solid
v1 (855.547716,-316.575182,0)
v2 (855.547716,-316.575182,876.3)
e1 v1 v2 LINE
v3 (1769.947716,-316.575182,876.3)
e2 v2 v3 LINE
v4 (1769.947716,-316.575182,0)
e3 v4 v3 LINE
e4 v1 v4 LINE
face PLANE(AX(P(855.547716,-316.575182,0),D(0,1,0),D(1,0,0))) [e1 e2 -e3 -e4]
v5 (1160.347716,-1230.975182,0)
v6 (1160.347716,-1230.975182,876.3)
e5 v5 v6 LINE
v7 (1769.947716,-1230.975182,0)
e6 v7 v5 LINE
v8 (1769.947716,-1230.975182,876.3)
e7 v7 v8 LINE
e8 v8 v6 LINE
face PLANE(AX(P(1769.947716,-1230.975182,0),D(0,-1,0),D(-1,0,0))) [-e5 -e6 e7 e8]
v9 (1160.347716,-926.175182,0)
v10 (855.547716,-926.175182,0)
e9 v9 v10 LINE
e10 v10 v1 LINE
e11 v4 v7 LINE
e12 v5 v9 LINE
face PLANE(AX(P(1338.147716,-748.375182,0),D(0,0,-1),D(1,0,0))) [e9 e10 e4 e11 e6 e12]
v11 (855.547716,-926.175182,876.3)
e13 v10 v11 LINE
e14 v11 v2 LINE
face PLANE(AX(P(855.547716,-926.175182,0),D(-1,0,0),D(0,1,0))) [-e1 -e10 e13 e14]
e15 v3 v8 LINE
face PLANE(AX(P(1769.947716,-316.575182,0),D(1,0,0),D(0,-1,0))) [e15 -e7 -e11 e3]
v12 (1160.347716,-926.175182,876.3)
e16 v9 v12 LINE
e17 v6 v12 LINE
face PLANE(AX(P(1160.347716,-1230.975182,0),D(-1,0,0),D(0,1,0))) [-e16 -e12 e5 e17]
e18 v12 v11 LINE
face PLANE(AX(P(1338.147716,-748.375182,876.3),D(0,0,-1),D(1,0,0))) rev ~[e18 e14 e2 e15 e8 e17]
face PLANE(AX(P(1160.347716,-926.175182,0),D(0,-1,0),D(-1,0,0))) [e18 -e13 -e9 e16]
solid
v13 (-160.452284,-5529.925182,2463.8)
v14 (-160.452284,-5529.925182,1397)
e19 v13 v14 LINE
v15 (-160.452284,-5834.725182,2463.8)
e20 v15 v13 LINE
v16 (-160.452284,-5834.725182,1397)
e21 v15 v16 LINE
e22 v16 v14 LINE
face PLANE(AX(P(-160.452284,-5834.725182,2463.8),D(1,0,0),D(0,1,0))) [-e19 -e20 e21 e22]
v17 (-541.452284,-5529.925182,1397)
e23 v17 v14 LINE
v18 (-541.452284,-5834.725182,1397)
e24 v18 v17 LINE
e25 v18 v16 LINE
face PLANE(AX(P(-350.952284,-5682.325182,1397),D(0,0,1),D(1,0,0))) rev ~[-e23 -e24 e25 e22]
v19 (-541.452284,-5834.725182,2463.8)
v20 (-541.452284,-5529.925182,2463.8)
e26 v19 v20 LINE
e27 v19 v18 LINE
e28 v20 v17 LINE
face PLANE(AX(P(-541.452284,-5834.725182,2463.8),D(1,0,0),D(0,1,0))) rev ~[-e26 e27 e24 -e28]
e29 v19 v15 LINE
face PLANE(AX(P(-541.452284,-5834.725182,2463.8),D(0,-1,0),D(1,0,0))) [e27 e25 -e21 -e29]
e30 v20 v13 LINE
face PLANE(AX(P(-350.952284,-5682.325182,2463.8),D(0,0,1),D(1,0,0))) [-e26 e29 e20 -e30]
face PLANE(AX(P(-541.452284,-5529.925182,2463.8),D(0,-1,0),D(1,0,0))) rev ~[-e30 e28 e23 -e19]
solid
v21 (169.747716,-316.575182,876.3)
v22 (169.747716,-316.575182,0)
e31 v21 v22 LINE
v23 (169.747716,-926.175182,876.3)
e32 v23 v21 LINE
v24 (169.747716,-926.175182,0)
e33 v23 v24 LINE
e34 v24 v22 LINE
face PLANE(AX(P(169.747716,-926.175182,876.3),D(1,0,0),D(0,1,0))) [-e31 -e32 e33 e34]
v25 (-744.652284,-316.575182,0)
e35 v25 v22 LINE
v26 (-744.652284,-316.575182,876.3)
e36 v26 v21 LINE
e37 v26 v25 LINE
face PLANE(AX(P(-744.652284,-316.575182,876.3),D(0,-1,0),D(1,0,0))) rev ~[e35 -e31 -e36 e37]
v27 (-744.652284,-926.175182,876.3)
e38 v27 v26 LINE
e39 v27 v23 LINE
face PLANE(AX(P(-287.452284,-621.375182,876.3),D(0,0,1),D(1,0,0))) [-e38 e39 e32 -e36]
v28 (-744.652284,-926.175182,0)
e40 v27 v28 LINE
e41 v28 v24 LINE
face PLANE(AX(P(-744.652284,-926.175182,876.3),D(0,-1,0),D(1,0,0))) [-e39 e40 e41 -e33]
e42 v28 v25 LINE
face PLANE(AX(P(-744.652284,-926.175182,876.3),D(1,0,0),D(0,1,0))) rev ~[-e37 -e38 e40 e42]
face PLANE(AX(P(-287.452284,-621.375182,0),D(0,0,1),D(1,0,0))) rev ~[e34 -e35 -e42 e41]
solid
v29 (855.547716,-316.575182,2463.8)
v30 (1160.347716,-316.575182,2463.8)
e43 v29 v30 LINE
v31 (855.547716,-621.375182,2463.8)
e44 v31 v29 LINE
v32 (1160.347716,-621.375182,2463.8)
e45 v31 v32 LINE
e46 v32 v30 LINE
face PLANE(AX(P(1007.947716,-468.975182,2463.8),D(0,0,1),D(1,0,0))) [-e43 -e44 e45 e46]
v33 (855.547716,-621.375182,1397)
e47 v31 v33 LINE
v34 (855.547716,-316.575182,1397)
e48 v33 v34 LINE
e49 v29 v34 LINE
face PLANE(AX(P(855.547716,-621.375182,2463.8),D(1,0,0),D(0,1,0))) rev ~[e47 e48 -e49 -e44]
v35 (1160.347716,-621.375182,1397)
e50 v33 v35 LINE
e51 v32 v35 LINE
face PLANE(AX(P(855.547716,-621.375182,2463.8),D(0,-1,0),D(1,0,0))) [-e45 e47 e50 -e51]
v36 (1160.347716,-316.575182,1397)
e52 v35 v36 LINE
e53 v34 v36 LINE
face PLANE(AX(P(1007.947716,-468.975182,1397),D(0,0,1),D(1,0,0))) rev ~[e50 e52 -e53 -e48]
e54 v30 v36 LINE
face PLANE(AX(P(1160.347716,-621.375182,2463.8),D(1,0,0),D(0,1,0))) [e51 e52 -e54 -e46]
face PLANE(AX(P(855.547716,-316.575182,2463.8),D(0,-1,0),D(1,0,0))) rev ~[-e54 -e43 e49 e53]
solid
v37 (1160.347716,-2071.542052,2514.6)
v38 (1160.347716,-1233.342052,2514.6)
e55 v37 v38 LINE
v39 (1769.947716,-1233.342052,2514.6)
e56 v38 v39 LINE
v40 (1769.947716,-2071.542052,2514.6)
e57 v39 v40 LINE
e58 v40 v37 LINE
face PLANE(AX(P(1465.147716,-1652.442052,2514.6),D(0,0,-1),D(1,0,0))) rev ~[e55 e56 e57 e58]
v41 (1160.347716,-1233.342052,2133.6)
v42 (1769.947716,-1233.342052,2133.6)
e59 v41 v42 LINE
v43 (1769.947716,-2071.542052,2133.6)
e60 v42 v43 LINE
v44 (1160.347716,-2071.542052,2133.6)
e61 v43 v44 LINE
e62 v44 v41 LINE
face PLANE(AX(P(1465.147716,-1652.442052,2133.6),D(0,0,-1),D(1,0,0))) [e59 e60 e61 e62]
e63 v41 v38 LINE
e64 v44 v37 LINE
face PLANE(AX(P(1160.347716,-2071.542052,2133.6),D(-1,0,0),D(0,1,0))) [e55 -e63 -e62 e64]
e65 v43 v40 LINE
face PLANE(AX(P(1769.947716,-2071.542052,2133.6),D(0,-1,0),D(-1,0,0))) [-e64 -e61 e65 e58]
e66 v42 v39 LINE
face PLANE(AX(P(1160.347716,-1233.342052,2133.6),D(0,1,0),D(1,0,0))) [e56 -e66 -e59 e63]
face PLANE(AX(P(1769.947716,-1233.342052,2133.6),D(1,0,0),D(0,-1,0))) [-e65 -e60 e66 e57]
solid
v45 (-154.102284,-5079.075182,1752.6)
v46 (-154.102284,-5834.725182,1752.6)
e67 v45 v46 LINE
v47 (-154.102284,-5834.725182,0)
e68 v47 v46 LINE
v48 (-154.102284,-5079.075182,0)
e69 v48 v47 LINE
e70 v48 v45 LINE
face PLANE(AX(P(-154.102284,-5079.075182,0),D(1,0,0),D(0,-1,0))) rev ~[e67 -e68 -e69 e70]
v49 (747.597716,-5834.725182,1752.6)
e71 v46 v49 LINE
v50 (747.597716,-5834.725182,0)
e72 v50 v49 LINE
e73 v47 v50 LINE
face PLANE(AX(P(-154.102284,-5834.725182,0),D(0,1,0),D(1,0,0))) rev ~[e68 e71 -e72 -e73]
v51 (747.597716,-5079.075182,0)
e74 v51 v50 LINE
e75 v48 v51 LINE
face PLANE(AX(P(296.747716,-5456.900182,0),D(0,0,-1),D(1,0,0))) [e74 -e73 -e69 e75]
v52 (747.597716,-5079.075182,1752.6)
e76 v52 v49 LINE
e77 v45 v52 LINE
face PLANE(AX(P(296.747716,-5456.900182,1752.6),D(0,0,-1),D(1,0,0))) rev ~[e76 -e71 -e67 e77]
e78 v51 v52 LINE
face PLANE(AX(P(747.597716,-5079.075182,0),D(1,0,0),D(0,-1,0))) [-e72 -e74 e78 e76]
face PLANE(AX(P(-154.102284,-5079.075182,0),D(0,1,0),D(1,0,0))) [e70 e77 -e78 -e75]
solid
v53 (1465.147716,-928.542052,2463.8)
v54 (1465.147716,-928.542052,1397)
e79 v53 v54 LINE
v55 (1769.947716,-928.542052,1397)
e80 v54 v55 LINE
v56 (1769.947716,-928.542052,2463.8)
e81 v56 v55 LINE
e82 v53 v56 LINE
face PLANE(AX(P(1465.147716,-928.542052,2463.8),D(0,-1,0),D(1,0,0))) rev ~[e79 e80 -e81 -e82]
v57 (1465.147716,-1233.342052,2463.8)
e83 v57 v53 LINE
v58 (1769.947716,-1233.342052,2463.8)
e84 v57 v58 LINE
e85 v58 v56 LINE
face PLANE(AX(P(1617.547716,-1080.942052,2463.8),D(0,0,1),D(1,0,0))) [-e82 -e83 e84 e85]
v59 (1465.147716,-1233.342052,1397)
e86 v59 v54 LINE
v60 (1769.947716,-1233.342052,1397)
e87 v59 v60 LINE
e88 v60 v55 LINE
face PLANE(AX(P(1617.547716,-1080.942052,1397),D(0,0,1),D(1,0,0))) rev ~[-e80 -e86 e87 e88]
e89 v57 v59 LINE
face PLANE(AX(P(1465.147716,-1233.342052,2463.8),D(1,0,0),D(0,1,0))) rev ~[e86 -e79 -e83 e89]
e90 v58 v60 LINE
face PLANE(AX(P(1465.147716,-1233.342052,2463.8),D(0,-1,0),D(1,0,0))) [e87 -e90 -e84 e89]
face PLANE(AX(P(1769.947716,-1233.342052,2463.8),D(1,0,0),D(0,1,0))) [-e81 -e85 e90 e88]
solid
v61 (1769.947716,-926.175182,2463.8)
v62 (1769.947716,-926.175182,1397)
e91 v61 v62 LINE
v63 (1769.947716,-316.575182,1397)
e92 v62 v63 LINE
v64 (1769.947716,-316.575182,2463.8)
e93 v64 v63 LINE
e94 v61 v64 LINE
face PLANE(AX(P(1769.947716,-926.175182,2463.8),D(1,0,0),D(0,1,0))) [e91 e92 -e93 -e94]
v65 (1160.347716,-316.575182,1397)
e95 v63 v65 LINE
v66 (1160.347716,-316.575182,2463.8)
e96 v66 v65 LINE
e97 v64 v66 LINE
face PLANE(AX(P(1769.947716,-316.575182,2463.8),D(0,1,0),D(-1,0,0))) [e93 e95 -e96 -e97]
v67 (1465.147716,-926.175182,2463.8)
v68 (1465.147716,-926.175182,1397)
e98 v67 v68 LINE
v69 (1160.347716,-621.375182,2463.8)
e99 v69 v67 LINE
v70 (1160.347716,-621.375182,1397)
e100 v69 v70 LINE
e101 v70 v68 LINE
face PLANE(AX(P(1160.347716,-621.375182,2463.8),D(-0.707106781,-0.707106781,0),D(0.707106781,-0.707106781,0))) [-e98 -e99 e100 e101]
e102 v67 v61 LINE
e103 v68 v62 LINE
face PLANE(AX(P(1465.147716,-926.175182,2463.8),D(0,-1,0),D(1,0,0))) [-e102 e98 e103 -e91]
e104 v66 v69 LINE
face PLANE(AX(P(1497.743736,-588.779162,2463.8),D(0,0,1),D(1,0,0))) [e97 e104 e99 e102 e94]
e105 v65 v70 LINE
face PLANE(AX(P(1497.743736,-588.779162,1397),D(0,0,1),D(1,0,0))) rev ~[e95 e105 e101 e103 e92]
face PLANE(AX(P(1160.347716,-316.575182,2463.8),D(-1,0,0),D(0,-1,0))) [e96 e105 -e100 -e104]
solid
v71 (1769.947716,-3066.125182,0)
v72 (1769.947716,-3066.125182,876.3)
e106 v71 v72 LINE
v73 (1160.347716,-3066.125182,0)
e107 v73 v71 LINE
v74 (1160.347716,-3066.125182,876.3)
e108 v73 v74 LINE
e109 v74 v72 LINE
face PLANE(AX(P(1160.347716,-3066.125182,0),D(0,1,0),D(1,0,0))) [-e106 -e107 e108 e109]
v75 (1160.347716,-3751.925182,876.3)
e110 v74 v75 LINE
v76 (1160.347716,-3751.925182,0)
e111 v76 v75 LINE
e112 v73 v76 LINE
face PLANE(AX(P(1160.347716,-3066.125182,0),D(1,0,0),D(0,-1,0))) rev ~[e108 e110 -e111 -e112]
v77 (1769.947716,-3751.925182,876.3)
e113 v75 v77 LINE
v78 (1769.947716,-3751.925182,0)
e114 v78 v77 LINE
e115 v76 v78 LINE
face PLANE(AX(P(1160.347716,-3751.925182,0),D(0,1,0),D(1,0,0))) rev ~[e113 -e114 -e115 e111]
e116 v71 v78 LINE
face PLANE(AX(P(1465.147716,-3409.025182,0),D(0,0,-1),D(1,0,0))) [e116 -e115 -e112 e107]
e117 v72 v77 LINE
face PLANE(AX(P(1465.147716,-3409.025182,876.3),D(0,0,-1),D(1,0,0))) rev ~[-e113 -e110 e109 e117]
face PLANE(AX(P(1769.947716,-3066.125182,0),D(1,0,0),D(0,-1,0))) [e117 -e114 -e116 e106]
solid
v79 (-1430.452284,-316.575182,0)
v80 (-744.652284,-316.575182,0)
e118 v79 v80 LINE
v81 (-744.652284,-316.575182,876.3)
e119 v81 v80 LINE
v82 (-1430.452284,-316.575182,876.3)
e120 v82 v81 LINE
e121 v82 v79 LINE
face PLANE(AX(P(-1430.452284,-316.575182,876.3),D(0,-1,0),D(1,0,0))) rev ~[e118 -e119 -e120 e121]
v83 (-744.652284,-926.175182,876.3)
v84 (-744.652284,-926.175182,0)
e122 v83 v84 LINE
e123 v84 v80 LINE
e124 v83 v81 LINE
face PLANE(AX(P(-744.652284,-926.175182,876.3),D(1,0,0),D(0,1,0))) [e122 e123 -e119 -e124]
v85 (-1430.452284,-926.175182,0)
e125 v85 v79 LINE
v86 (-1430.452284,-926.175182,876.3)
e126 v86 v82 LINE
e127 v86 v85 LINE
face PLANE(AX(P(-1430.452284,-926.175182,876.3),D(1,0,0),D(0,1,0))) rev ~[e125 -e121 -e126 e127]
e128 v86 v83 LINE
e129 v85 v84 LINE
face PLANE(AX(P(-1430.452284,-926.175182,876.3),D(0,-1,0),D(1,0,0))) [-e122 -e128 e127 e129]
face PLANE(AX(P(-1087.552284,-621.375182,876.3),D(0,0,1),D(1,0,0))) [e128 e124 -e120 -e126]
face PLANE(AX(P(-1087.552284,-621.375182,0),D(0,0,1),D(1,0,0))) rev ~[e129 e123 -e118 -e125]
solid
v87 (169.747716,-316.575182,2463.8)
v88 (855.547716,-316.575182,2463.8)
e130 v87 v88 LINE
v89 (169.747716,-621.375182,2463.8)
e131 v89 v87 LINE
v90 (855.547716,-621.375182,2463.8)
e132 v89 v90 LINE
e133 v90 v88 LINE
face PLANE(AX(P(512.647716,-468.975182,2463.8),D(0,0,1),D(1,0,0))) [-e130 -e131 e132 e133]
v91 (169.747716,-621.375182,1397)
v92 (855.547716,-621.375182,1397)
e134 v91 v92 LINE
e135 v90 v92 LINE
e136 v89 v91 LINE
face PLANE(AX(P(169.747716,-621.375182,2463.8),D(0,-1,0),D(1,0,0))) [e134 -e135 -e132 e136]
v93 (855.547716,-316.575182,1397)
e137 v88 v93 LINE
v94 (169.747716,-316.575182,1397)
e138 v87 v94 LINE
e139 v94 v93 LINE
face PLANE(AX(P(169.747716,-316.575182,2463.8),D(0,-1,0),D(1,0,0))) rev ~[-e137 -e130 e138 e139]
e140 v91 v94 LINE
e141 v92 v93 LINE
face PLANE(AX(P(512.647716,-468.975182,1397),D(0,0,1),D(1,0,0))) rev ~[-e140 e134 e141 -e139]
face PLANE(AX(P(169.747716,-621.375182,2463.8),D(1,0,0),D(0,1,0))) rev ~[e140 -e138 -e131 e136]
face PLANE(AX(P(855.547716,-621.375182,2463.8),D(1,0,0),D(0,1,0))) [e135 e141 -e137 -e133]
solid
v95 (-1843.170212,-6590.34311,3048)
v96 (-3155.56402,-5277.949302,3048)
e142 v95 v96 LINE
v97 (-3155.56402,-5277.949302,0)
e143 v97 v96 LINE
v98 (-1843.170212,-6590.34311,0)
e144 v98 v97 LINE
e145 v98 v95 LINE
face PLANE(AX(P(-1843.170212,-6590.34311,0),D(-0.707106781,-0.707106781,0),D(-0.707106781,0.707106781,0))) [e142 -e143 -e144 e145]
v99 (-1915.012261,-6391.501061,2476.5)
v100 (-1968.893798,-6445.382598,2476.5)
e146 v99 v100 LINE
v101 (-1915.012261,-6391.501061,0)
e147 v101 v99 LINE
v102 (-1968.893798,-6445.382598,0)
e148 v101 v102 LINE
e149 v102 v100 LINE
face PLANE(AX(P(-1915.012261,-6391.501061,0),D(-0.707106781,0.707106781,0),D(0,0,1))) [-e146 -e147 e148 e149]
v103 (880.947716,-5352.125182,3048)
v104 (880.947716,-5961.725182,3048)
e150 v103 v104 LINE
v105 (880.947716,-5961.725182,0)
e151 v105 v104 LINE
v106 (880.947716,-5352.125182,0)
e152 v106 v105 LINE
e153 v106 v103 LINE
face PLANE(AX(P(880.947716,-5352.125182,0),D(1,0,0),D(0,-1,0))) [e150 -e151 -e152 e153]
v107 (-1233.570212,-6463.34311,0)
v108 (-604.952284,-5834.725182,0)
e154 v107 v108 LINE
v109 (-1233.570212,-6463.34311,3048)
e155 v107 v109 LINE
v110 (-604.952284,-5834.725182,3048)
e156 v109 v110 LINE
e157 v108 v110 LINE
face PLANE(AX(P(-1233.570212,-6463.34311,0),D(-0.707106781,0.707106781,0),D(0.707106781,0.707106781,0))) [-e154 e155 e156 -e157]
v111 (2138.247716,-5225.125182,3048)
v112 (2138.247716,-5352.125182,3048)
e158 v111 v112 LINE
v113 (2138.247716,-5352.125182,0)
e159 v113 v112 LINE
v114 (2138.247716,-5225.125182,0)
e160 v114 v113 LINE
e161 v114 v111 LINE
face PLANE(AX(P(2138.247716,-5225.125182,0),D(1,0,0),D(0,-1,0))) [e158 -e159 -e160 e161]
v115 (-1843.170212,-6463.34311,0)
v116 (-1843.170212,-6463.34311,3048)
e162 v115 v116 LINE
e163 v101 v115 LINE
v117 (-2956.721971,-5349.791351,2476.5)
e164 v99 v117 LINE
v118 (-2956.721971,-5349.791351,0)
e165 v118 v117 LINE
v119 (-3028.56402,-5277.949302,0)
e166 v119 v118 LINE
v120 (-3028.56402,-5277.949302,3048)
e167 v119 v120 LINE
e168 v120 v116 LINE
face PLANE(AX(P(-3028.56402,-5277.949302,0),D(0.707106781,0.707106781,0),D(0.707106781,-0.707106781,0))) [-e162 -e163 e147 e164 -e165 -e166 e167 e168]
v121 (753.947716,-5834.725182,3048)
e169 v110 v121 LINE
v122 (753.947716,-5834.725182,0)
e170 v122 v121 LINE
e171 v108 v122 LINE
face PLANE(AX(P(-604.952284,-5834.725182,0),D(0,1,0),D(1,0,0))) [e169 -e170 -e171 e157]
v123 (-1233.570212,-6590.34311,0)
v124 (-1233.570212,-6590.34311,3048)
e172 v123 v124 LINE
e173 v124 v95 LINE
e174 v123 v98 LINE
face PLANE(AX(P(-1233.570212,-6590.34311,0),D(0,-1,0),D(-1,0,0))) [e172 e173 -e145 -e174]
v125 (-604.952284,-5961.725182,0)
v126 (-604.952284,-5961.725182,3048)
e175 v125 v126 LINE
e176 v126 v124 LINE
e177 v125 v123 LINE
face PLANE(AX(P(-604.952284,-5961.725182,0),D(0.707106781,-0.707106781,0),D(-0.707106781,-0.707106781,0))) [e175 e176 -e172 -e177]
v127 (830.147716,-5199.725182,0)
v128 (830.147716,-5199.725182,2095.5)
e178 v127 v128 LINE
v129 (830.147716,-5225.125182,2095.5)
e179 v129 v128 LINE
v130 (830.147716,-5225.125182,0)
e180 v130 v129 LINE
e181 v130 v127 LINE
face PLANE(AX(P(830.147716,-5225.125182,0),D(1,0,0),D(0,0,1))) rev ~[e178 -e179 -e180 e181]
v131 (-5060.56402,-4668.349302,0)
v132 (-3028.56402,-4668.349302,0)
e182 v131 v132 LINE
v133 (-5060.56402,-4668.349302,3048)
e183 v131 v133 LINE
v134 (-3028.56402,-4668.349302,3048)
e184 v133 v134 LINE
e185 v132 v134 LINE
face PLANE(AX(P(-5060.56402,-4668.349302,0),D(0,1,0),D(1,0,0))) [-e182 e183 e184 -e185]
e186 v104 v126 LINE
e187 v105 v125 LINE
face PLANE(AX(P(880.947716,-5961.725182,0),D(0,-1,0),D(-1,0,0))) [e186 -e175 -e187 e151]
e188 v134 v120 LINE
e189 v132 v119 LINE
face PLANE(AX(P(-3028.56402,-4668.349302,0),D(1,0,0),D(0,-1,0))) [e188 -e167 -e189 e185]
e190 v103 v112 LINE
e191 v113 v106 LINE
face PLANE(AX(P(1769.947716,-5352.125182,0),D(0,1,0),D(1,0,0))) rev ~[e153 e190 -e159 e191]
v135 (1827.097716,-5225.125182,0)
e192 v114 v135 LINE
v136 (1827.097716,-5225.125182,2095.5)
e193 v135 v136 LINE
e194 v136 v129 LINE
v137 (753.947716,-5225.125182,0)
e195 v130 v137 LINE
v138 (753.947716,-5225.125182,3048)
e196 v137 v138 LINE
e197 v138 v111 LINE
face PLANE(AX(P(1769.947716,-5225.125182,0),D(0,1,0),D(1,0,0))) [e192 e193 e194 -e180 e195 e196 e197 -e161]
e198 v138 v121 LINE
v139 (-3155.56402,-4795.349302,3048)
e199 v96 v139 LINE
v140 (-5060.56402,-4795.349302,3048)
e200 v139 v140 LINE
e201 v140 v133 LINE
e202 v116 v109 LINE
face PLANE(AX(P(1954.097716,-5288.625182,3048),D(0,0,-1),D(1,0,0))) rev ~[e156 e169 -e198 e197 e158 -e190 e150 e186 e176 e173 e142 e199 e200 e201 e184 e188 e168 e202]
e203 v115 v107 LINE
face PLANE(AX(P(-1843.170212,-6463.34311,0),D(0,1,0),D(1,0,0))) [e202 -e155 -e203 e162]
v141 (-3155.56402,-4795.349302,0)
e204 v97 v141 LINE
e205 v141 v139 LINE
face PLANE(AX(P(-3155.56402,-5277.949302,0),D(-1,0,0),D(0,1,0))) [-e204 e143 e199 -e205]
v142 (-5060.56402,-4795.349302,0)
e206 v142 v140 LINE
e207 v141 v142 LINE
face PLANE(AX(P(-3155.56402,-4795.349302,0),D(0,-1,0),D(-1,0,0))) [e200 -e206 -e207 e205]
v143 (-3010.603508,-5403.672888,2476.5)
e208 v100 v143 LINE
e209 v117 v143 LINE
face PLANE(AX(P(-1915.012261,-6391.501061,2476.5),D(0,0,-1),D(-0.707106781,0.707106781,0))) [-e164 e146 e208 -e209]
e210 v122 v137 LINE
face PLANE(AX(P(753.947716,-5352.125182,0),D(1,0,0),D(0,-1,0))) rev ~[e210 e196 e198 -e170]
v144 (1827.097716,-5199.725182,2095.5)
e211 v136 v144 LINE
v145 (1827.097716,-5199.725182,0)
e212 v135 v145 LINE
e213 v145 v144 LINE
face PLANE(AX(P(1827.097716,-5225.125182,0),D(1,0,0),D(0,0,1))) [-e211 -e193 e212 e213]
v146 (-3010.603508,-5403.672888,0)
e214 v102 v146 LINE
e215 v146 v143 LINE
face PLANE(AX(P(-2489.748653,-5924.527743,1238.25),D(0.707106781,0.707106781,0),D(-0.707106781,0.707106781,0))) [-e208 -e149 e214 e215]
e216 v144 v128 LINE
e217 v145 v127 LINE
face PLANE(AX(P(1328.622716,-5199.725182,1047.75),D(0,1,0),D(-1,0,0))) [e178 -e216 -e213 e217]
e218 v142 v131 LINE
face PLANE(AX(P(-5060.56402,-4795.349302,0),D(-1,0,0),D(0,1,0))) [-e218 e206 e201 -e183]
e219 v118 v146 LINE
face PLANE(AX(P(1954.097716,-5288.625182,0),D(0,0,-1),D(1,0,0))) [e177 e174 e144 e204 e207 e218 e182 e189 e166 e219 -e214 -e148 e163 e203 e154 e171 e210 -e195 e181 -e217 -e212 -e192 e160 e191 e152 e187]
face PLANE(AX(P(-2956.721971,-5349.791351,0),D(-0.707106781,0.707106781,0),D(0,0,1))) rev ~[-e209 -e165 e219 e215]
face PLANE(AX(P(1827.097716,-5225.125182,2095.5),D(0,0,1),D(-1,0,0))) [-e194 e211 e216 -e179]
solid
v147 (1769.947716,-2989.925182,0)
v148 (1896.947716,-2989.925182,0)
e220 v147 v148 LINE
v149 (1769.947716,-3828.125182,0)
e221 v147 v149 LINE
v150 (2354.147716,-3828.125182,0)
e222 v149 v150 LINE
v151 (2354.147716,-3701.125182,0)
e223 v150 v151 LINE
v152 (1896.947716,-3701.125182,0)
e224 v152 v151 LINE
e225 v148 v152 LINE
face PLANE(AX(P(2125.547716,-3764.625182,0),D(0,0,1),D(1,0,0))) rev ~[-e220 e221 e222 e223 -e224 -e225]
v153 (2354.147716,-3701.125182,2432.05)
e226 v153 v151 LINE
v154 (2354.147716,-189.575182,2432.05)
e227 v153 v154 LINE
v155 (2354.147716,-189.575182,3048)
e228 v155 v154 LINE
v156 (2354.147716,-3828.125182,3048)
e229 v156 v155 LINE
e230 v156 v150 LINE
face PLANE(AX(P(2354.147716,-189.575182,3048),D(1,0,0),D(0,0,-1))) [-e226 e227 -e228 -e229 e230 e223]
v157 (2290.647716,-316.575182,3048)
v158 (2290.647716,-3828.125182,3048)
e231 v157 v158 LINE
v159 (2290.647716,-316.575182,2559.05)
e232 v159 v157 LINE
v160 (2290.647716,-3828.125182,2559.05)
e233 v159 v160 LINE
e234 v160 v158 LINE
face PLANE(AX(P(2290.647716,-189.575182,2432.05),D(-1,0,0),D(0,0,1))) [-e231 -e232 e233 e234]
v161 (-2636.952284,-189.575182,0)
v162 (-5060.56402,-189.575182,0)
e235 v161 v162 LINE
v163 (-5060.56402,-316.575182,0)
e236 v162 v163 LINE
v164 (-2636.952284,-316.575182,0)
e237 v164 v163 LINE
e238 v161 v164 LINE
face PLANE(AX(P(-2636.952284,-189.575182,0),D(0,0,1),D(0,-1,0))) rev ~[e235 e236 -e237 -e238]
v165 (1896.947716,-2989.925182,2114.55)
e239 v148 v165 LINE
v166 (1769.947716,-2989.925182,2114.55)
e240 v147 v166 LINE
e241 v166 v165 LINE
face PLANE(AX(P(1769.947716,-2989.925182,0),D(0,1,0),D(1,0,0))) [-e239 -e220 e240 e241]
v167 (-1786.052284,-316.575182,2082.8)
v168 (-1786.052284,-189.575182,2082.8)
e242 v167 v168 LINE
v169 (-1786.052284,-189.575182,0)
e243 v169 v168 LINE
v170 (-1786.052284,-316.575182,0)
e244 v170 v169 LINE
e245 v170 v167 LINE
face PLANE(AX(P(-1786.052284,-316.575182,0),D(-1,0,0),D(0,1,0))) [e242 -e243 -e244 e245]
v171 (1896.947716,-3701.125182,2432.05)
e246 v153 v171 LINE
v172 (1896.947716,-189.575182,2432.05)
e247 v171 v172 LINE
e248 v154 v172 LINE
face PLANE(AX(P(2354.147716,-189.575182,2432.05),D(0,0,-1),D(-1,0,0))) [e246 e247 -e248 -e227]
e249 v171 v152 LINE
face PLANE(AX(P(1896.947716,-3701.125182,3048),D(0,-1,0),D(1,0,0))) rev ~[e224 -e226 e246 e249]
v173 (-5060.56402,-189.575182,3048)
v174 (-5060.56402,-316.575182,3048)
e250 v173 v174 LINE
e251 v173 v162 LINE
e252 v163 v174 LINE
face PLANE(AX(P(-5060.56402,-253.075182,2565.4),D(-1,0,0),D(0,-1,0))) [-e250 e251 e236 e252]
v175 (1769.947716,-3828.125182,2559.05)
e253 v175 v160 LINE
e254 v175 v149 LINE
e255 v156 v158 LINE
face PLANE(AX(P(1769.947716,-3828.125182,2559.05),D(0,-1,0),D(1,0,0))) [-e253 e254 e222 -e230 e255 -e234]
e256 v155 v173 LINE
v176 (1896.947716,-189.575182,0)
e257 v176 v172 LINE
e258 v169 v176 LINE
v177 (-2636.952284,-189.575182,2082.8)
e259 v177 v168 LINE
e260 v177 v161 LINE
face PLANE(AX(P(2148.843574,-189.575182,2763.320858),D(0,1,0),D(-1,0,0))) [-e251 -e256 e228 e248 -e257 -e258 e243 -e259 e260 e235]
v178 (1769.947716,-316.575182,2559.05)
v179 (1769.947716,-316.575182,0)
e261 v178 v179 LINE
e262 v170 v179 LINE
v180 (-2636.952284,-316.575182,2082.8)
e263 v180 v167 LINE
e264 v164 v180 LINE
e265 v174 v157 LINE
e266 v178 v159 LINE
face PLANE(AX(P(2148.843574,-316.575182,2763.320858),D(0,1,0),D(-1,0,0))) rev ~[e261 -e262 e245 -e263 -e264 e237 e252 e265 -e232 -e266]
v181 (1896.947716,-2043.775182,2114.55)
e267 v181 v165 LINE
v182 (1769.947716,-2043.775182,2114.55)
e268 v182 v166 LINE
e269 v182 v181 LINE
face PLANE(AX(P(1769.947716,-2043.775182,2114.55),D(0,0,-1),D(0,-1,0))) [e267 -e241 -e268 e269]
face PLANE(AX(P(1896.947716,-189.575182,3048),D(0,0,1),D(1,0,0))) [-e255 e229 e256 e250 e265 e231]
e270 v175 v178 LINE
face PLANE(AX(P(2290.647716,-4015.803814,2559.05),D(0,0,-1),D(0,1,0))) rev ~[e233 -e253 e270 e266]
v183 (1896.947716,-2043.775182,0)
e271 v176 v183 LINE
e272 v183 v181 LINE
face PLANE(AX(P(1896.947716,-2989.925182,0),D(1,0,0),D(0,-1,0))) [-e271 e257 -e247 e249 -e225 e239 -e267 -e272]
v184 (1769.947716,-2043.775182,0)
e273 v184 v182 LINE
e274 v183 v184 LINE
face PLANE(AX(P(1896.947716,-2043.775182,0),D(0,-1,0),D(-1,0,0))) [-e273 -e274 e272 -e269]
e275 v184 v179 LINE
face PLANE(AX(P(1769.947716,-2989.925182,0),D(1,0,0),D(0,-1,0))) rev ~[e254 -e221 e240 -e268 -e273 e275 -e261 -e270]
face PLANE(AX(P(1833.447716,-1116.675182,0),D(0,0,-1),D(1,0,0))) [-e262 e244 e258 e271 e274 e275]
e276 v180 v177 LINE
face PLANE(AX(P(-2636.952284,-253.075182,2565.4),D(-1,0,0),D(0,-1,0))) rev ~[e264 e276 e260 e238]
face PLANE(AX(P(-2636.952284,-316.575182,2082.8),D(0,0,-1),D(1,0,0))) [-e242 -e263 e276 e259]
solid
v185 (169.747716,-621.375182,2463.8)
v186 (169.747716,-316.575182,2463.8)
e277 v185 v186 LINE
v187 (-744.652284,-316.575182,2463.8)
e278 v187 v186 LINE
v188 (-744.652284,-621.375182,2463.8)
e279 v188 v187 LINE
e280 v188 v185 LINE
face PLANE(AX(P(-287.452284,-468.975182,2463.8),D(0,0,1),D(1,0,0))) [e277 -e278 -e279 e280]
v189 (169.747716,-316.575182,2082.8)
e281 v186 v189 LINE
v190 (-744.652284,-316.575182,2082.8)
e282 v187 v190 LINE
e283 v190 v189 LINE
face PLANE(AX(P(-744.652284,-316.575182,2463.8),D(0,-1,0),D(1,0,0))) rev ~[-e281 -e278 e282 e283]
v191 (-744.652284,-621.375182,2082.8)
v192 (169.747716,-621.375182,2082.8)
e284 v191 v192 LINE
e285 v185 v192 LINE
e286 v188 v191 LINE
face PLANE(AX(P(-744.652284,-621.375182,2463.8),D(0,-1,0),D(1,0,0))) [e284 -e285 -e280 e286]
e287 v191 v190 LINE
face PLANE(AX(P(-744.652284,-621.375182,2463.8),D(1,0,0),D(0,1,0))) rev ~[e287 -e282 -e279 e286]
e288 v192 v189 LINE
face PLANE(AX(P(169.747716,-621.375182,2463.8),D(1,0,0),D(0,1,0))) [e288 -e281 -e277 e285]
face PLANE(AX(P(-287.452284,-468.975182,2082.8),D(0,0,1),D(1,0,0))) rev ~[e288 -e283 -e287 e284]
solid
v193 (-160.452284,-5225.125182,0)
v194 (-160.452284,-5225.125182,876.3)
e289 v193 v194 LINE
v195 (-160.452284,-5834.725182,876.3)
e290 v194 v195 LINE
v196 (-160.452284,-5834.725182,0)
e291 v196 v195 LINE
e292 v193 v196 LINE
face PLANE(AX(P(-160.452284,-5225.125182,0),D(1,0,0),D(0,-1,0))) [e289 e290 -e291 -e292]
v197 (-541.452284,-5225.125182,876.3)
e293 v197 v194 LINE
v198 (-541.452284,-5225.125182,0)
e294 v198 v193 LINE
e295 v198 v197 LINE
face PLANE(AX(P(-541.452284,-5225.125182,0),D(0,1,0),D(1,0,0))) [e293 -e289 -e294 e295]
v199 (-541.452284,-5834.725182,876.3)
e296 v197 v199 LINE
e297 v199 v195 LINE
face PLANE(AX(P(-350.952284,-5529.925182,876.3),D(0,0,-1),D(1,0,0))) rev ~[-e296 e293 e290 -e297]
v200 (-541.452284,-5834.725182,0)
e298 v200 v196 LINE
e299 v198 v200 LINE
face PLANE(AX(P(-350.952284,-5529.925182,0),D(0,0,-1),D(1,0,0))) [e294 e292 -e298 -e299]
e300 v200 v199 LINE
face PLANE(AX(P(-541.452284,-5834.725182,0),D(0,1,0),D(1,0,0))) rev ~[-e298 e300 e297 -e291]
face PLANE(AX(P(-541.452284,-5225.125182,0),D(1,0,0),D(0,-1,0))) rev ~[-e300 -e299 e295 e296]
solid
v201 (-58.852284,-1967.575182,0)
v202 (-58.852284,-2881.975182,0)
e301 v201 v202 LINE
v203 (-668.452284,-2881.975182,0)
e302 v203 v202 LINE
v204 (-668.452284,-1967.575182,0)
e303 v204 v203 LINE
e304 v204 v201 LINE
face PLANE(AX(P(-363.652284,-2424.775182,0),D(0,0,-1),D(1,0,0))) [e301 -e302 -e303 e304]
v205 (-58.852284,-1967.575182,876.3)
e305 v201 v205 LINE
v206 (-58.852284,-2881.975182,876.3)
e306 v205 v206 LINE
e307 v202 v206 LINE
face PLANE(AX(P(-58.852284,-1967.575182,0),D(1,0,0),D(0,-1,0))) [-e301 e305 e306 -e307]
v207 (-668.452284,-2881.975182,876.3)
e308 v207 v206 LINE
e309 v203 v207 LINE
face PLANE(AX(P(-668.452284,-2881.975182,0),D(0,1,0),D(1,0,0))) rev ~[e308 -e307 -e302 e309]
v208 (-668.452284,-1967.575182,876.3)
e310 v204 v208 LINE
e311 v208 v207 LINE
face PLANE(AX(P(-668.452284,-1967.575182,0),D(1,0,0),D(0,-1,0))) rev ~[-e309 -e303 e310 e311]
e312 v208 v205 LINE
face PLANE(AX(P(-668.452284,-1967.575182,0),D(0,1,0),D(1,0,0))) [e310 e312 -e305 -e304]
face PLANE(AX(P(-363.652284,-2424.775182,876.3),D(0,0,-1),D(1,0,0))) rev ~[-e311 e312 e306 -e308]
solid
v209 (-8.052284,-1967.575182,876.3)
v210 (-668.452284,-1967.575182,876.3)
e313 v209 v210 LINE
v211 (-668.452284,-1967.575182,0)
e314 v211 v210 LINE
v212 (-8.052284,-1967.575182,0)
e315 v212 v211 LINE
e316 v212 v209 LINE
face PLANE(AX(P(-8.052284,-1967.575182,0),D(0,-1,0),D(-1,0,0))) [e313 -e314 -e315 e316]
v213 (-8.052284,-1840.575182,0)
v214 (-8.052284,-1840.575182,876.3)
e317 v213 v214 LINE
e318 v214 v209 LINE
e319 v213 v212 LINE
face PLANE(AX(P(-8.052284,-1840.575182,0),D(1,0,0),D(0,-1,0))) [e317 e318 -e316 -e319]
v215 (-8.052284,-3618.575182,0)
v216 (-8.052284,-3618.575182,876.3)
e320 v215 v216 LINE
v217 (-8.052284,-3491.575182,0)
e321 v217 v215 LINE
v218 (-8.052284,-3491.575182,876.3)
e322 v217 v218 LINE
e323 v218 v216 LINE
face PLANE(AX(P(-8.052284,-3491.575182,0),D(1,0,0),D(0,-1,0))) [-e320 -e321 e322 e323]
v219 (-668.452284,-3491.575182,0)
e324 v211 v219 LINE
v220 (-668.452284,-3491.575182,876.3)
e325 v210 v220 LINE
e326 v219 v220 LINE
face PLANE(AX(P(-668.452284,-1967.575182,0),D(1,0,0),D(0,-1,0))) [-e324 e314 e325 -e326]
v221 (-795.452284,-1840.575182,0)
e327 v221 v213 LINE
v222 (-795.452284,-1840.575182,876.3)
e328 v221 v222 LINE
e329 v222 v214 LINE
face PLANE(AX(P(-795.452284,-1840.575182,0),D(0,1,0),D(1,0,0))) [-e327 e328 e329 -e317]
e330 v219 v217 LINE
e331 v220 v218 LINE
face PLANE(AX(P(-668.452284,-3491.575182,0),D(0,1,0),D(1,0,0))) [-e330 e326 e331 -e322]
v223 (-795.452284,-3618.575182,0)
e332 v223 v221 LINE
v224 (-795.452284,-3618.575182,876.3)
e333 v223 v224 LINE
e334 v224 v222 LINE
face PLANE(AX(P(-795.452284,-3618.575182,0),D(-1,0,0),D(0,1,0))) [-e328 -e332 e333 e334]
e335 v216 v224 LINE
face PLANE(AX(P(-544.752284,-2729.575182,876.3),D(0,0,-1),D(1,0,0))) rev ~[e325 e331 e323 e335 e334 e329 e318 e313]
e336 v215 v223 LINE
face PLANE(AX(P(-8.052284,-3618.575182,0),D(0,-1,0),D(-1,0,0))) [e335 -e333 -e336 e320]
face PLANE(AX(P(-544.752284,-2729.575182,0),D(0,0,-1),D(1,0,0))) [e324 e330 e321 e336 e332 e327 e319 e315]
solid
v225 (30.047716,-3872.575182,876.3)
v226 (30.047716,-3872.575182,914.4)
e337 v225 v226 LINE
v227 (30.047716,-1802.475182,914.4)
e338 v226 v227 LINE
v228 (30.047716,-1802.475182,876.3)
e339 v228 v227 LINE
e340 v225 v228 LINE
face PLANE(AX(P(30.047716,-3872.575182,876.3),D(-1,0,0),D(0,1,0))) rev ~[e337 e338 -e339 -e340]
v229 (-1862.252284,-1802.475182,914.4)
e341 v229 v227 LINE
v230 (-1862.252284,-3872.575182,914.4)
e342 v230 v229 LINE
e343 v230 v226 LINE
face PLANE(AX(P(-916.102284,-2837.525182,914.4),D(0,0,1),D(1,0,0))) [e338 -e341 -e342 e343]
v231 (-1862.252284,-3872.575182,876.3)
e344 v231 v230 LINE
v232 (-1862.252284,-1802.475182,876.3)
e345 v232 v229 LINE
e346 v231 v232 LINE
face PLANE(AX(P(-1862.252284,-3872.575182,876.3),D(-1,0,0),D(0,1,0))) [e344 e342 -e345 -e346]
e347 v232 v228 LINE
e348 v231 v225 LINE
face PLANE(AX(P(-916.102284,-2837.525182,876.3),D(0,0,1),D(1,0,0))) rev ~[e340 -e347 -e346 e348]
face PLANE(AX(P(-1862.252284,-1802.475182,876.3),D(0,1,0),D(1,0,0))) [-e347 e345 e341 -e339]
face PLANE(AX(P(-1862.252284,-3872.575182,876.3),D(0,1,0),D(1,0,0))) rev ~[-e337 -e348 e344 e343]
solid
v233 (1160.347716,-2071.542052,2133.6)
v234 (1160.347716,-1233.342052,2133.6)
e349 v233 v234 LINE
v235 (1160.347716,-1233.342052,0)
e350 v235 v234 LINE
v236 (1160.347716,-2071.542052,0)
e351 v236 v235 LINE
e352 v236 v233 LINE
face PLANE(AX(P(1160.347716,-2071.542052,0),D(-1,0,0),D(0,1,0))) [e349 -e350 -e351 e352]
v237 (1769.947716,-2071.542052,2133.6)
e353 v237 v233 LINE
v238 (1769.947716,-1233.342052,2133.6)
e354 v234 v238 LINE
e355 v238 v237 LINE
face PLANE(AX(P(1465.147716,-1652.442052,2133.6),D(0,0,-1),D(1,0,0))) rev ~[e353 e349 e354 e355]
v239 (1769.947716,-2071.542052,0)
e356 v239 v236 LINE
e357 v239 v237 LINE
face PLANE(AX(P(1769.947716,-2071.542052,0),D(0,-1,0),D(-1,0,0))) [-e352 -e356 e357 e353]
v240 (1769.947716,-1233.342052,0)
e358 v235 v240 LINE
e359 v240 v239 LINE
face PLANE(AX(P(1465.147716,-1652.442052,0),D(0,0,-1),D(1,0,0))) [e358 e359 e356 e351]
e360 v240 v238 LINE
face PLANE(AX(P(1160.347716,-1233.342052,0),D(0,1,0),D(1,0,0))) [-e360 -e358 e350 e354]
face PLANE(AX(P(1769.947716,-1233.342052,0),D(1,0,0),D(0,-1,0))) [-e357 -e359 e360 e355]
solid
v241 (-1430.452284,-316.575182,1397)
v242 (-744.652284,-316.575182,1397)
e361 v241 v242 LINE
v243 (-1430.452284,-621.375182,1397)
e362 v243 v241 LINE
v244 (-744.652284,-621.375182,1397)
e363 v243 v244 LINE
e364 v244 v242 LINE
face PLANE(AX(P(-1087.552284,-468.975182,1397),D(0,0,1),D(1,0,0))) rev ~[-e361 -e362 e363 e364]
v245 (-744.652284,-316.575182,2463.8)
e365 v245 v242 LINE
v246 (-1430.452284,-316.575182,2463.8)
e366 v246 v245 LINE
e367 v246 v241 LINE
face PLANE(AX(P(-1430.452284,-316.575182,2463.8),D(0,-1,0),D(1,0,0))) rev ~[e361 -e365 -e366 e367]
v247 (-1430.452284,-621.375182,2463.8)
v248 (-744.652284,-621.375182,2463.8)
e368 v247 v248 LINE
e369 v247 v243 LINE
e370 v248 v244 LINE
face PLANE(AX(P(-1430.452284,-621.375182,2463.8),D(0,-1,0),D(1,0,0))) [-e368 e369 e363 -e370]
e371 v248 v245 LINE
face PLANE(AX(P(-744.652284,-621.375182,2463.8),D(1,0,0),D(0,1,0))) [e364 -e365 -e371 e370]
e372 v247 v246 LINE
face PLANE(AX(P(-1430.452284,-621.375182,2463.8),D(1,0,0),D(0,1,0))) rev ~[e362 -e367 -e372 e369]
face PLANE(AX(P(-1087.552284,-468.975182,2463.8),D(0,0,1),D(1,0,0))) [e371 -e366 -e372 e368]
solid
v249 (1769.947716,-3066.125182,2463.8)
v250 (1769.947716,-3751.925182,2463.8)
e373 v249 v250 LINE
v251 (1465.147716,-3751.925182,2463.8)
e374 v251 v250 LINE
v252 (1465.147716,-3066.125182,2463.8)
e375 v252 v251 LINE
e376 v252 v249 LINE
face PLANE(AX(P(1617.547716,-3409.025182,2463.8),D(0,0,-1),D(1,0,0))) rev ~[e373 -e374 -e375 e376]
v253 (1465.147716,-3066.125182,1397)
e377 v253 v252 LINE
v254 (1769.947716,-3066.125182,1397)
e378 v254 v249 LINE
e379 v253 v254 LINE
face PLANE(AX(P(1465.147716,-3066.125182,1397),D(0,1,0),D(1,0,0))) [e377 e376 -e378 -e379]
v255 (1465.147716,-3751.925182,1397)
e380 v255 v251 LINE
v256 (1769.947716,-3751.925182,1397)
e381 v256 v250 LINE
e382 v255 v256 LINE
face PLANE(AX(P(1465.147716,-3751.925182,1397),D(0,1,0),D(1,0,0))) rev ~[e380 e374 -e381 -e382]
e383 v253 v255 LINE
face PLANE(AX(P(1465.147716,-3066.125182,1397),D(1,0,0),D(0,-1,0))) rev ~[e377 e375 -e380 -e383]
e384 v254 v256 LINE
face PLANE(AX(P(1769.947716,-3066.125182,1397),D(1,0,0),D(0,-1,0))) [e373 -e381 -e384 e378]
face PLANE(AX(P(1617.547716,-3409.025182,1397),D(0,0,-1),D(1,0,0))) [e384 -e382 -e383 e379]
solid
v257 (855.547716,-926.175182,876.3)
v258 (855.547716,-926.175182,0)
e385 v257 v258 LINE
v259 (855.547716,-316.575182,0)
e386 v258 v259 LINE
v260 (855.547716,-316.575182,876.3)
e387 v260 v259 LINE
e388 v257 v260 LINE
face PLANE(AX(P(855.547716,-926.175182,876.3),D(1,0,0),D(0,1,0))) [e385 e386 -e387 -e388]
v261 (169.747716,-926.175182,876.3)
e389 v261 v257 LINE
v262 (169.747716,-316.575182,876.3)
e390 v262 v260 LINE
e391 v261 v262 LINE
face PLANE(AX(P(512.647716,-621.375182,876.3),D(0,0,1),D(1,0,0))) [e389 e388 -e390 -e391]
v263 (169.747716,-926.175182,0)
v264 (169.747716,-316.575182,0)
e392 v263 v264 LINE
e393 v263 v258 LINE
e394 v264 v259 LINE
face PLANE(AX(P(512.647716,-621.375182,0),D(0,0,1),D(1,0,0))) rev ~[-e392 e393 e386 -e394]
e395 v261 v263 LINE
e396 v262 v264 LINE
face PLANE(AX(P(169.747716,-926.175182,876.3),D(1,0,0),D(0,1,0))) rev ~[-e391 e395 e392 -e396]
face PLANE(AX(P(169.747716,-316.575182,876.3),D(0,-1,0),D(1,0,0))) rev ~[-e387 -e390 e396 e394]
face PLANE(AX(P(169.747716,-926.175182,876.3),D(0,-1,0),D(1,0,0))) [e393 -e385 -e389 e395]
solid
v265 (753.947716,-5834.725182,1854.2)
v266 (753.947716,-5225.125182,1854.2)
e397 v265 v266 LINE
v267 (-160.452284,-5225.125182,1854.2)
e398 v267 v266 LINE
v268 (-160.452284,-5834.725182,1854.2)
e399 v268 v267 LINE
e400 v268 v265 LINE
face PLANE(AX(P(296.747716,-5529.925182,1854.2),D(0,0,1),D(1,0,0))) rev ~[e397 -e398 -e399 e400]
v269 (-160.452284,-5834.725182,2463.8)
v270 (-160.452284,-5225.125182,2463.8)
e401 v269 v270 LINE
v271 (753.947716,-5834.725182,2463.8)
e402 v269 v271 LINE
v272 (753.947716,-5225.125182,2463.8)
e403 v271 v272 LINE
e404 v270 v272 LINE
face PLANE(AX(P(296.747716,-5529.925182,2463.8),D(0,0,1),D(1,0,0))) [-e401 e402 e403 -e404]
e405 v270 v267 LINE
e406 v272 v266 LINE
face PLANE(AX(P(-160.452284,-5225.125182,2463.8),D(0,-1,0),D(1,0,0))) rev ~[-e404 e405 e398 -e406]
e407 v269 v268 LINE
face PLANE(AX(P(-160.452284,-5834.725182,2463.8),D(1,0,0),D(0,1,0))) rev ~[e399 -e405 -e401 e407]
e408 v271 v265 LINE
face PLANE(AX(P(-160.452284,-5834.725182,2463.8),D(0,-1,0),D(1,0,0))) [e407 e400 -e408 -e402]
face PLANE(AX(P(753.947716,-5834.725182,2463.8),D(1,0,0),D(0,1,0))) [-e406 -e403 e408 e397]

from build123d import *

# Parameters (mm, degrees)
F0_W      = 3556
F0_H      = 127
F1_DEPTH  = 3048
F3_DEPTH  = 3048
F4_W      = 127
F4_H      = 838.2
F5_DEPTH  = 3048
F6_W      = 1016
F6_H      = 127
F7_DEPTH  = 3048
F8_W      = 127
F8_H      = 482.6
F9_DEPTH  = 3048
F10_W     = 368.3
F10_H     = 127
F11_DEPTH = 3048
F12_W     = 996.95
F12_H     = 2095.5
F13_DEPTH = 25.4
F14_W     = 850.9
F14_H     = 965.2
F15_DEPTH = 127
F16_W     = 127
F16_H     = 965.2
F16_H_2   = 2082.8
F17_DEPTH = 2423.611736456
F18_W     = 1059.5979121052
F18_H     = 933.45
F19_DEPTH = 127
F21_W     = 457.2
F21_H     = 127
F22_DEPTH = 3048
F24_W     = 520.7
F24_H     = 3638.55
F25_DEPTH = 127
F26_W     = 3699.2286321938
F26_H     = 1626.0209083557
F27_DEPTH = 1270
F29_DEPTH = 127
F30_W     = 63.5
F30_H     = 615.95
F31_DEPTH = 3511.55
F32_W     = 1473.2
F32_H     = 2476.5
F33_DEPTH = 76.2
F34_W     = 609.6
F34_H     = 685.8
F35_DEPTH = 876.3
F37_DEPTH = 876.3
F39_DEPTH = 2133.6
F41_W     = 304.8
F41_H     = 685.8
F42_DEPTH = 1066.8
F43_W     = 304.8
F43_H     = 304.8
F44_DEPTH = 1066.8
F46_DEPTH = 1066.8
F47_W     = 304.8
F47_H     = 304.8
F48_DEPTH = 1066.8
F49_W     = 685.8
F49_H     = 609.6
F50_DEPTH = 876.3
F51_W     = 914.4
F51_H     = 609.6
F52_DEPTH = 876.3
F53_W     = 685.8
F53_H     = 609.6
F54_DEPTH = 876.3
F55_W     = 685.8
F55_H     = 304.8
F56_DEPTH = 1066.8
F57_W     = 914.4
F57_H     = 304.8
F58_DEPTH = 381
F59_W     = 685.8
F59_H     = 304.8
F60_DEPTH = 1066.8
F61_DEPTH = 381
F62_W     = 609.6
F62_H     = 914.4
F63_DEPTH = 876.3
F65_DEPTH = 876.3
F67_W     = 1892.3
F67_H     = 2070.1
F68_DEPTH = 38.1
F69_W     = 901.7
F69_H     = 755.65
F70_DEPTH = 1752.6
F71_W     = 381
F71_H     = 609.6
F72_DEPTH = 876.3
F73_W     = 914.4
F73_H     = 609.6
F74_DEPTH = 609.6
F75_W     = 381
F75_H     = 304.8
F76_DEPTH = 1066.8


with BuildPart() as f1:
    # F0 (on Top) → F1 (new body)
    with BuildSketch(Plane.XY):
        with Locations((-8.052283898, -253.0751817405)):
            Rectangle(F0_W, F0_H)
    extrude(amount=F1_DEPTH)

    # F2 (on face) → F3 (join, through all)
    with BuildSketch(Plane(origin=(0, 0, 0), x_dir=(1, 0, 0), z_dir=(0, 0, -1))):
        Polygon((1769.947716102, 2043.7751817405), (1769.947716102, 316.5751817405), (1769.947716102, 189.5751817405), (1896.947716102, 189.5751817405), (1896.947716102, 2043.7751817405), align=None)
    extrude(amount=-F3_DEPTH)

    # F14 (on face) → F15 (join, through all)
    with BuildSketch(Plane.XZ.offset(316.5751817405)):
        with Locations((-2211.502283898, 2565.4)):
            Rectangle(F14_W, F14_H)
    extrude(amount=-F15_DEPTH)

    # F16 (on face) → F17 (join, through all)
    with BuildSketch(Plane(origin=(-2636.952283898, 0, 0), x_dir=(0, -1, 0), z_dir=(-1, 0, 0))):
        with Locations((253.0751817405, 2565.4)):
            Rectangle(F16_W, F16_H)
        with Locations((253.0751817405, 1041.4)):
            Rectangle(F16_W, F16_H_2)
    extrude(amount=F17_DEPTH)


with BuildPart() as f5:
    # F4 (on face) → F5 (new body, through all)
    with BuildSketch(Plane(origin=(0, 0, 0), x_dir=(1, 0, 0), z_dir=(0, 0, -1))):
        with Locations((1833.447716102, 3409.0251817405)):
            Rectangle(F4_W, F4_H)
    extrude(amount=-F5_DEPTH)


with BuildPart() as f7:
    # F6 (on face) → F7 (new body, through all)
    with BuildSketch(Plane(origin=(0, 0, 0), x_dir=(1, 0, 0), z_dir=(0, 0, -1))):
        with Locations((1261.947716102, 5288.6251817405)):
            Rectangle(F6_W, F6_H)
    extrude(amount=-F7_DEPTH)

    # F8 (on face) → F9 (join, through all)
    with BuildSketch(Plane(origin=(0, 0, 0), x_dir=(1, 0, 0), z_dir=(0, 0, -1))):
        Polygon((-3028.564020354, 5277.9493022342), (-1843.1702123728, 6463.3431102153), (-1843.1702123728, 6590.3431102153), (-3155.564020354, 5277.9493022342), (-3155.564020354, 4795.3493022342), (-5060.564020354, 4795.3493022342), (-5060.564020354, 4668.3493022342), (-3028.564020354, 4668.3493022342), align=None)
        Polygon((-1233.5702123728, 6463.3431102153), (-604.952283898, 5834.7251817405), (-604.952283898, 5961.7251817405), (-1233.5702123728, 6590.3431102153), (-1843.1702123728, 6590.3431102153), (-1843.1702123728, 6463.3431102153), align=None)
        Polygon((-604.952283898, 5834.7251817405), (753.947716102, 5834.7251817405), (880.947716102, 5834.7251817405), (880.947716102, 5961.7251817405), (-604.952283898, 5961.7251817405), align=None)
        with Locations((817.447716102, 5593.4251817405)):
            Rectangle(F8_W, F8_H)
    extrude(amount=-F9_DEPTH)

    # F10 (on face) → F11 (join, through all)
    with BuildSketch(Plane(origin=(0, 0, 0), x_dir=(1, 0, 0), z_dir=(0, 0, -1))):
        with Locations((1954.097716102, 5288.6251817405)):
            Rectangle(F10_W, F10_H)
    extrude(amount=-F11_DEPTH)

    # F12 (on face) → F13 (join)
    with BuildSketch(Plane(origin=(0, -5225.1251817405, 0), x_dir=(-1, 0, 0), z_dir=(0, 1, 0))):
        with Locations((-1328.622716102, 1047.75)):
            Rectangle(F12_W, F12_H)
    extrude(amount=F13_DEPTH)

    # F32 (on face) → F33 (cut)
    with BuildSketch(Plane(origin=(-4153.2566612941, -4153.2566612941, 0), x_dir=(-0.7071067812, 0.7071067812, 0), z_dir=(0.7071067812, 0.7071067812, 0))):
        with Locations((-2428.7555863187, 1238.25)):
            Rectangle(F32_W, F32_H)
    extrude(amount=-F33_DEPTH, mode=Mode.SUBTRACT)


with BuildPart() as f19:
    # F18 (on face) → F19 (new body, through all)
    with BuildSketch(Plane(origin=(1769.947716102, 0, 0), x_dir=(0, -1, 0), z_dir=(-1, 0, 0))):
        with Locations((2573.5741377931, 2581.275)):
            Rectangle(F18_W, F18_H)
    extrude(amount=-F19_DEPTH)


with BuildPart() as f1_1:
    add(f1.part)

    # F20: union F19, F5
    add(f19.part)
    add(f5.part)

    # F21 (on face) → F22 (join, through all)
    with BuildSketch(Plane.XY.offset(3048)):
        with Locations((2125.547716102, -3764.6251817405)):
            Rectangle(F21_W, F21_H)
    extrude(amount=-F22_DEPTH)

    # F24 (on offset) → F25 (join)
    with BuildSketch(Plane(origin=(0, 0, 2559.05), x_dir=(1, 0, 0), z_dir=(0, 0, -1))):
        with Locations((2030.297716102, 2008.8501817405)):
            Rectangle(F24_W, F24_H)
    extrude(amount=F25_DEPTH)

    # F26 (on face) → F27 (cut)
    with BuildSketch(Plane.YZ.offset(2290.647716102)):
        with Locations((-2166.1894978374, 3372.0604541779)):
            Rectangle(F26_W, F26_H)
    extrude(amount=-F27_DEPTH, mode=Mode.SUBTRACT)

    # F28 (on face) → F29 (join, through all)
    with BuildSketch(Plane(origin=(0, -189.5751817405, 0), x_dir=(-1, 0, 0), z_dir=(0, 1, 0))):
        Polygon((-1896.947716102, 2559.05), (-1896.947716102, 3048), (-2354.147716102, 3048), (-2354.147716102, 2432.05), (-2290.647716102, 2432.05), (-2290.647716102, 2559.05), align=None)
    extrude(amount=-F29_DEPTH)

    # F30 (on face) → F31 (join, through all)
    with BuildSketch(Plane(origin=(0, -189.5751817405, 0), x_dir=(-1, 0, 0), z_dir=(0, 1, 0))):
        with Locations((-2322.397716102, 2740.025)):
            Rectangle(F30_W, F30_H)
    extrude(amount=-F31_DEPTH)


with BuildPart() as f35:
    # F34 (on face) → F35 (new body)
    with BuildSketch(Plane(origin=(0, 0, 0), x_dir=(1, 0, 0), z_dir=(0, 0, -1))):
        with Locations((1465.147716102, 3409.0251817405)):
            Rectangle(F34_W, F34_H)
    extrude(amount=-F35_DEPTH)


with BuildPart() as f37:
    # F36 (on face) → F37 (new body, through all)
    with BuildSketch(Plane(origin=(0, 0, 0), x_dir=(1, 0, 0), z_dir=(0, 0, -1))):
        Polygon((855.547716102, 926.1751817405), (855.547716102, 316.5751817405), (1769.947716102, 316.5751817405), (1769.947716102, 1230.9751817405), (1160.347716102, 1230.9751817405), (1160.347716102, 926.1751817405), align=None)
    extrude(amount=-F37_DEPTH)


with BuildPart() as f39:
    # F38 (on face) → F39 (new body)
    with BuildSketch(Plane(origin=(0, 0, 0), x_dir=(1, 0, 0), z_dir=(0, 0, -1))):
        Polygon((1160.347716102, 1233.342051506), (1769.947716102, 1233.342051506), (1769.947716102, 2043.7751817405), (1769.947716102, 2071.542051506), (1160.347716102, 2071.542051506), align=None)
    extrude(amount=-F39_DEPTH)


with BuildPart() as f42:
    # F41 (on offset) → F42 (new body)
    with BuildSketch(Plane(origin=(0, 0, 1397), x_dir=(1, 0, 0), z_dir=(0, 0, -1))):
        with Locations((1617.547716102, 3409.0251817405)):
            Rectangle(F41_W, F41_H)
    extrude(amount=-F42_DEPTH)


with BuildPart() as f44:
    # F43 (on face) → F44 (new body, through all)
    with BuildSketch(Plane.XY.offset(2463.8)):
        with Locations((1617.547716102, -1080.942051506)):
            Rectangle(F43_W, F43_H)
    extrude(amount=-F44_DEPTH)


with BuildPart() as f46:
    # F45 (on face) → F46 (new body, through all)
    with BuildSketch(Plane.XY.offset(2463.8)):
        Polygon((1769.947716102, -926.1751817405), (1769.947716102, -316.5751817405), (1160.347716102, -316.5751817405), (1160.347716102, -621.3751817405), (1465.147716102, -926.1751817405), align=None)
    extrude(amount=-F46_DEPTH)


with BuildPart() as f48:
    # F47 (on face) → F48 (new body, through all)
    with BuildSketch(Plane.XY.offset(2463.8)):
        with Locations((1007.947716102, -468.9751817405)):
            Rectangle(F47_W, F47_H)
    extrude(amount=-F48_DEPTH)


with BuildPart() as f50:
    # F49 (on face) → F50 (new body, through all)
    with BuildSketch(Plane.XY.offset(876.3)):
        with Locations((512.647716102, -621.3751817405)):
            Rectangle(F49_W, F49_H)
    extrude(amount=-F50_DEPTH)


with BuildPart() as f52:
    # F51 (on face) → F52 (new body, through all)
    with BuildSketch(Plane.XY.offset(876.3)):
        with Locations((-287.452283898, -621.3751817405)):
            Rectangle(F51_W, F51_H)
    extrude(amount=-F52_DEPTH)


with BuildPart() as f54:
    # F53 (on face) → F54 (new body, through all)
    with BuildSketch(Plane.XY.offset(876.3)):
        with Locations((-1087.552283898, -621.3751817405)):
            Rectangle(F53_W, F53_H)
    extrude(amount=-F54_DEPTH)


with BuildPart() as f56:
    # F55 (on face) → F56 (new body, through all)
    with BuildSketch(Plane.XY.offset(2463.8)):
        with Locations((512.647716102, -468.9751817405)):
            Rectangle(F55_W, F55_H)
    extrude(amount=-F56_DEPTH)


with BuildPart() as f58:
    # F57 (on face) → F58 (new body)
    with BuildSketch(Plane.XY.offset(2463.8)):
        with Locations((-287.452283898, -468.9751817405)):
            Rectangle(F57_W, F57_H)
    extrude(amount=-F58_DEPTH)


with BuildPart() as f60:
    # F59 (on face) → F60 (new body, through all)
    with BuildSketch(Plane.XY.offset(2463.8)):
        with Locations((-1087.552283898, -468.9751817405)):
            Rectangle(F59_W, F59_H)
    extrude(amount=-F60_DEPTH)


with BuildPart() as f61:
    # F61 (new): a face of the model
    f61_faces = [f39.part.faces().sort_by_distance(p)[0] for p in [
        (1465.147716102, -1652.442051506, 2133.6),
    ]]
    extrude(f61_faces, amount=F61_DEPTH)


with BuildPart() as f63:
    # F62 (on face) → F63 (new body)
    with BuildSketch(Plane(origin=(0, 0, 0), x_dir=(1, 0, 0), z_dir=(0, 0, -1))):
        with Locations((-363.652283898, 2424.7751817405)):
            Rectangle(F62_W, F62_H)
    extrude(amount=-F63_DEPTH)


with BuildPart() as f65:
    # F64 (on face) → F65 (new body, through all)
    with BuildSketch(Plane(origin=(0, 0, 0), x_dir=(1, 0, 0), z_dir=(0, 0, -1))):
        Polygon((-8.052283898, 1967.5751817405), (-58.852283898, 1967.5751817405), (-668.452283898, 1967.5751817405), (-668.452283898, 2881.9751817405), (-668.452283898, 3491.5751817405), (-8.052283898, 3491.5751817405), (-8.052283898, 3618.5751817405), (-795.452283898, 3618.5751817405), (-795.452283898, 1840.5751817405), (-8.052283898, 1840.5751817405), align=None)
    extrude(amount=-F65_DEPTH)


with BuildPart() as f68:
    # F67 (on offset) → F68 (new body)
    with BuildSketch(Plane.XY.offset(876.3)):
        with Locations((-916.102283898, -2837.5251817405)):
            Rectangle(F67_W, F67_H)
    extrude(amount=F68_DEPTH)


with BuildPart() as f70:
    # F69 (on face) → F70 (new body)
    with BuildSketch(Plane(origin=(0, 0, 0), x_dir=(1, 0, 0), z_dir=(0, 0, -1))):
        with Locations((296.747716102, 5456.9001817405)):
            Rectangle(F69_W, F69_H)
    extrude(amount=-F70_DEPTH)


with BuildPart() as f72:
    # F71 (on face) → F72 (new body)
    with BuildSketch(Plane(origin=(0, 0, 0), x_dir=(1, 0, 0), z_dir=(0, 0, -1))):
        with Locations((-350.952283898, 5529.9251817405)):
            Rectangle(F71_W, F71_H)
    extrude(amount=-F72_DEPTH)


with BuildPart() as f74:
    # F73 (on face) → F74 (new body)
    with BuildSketch(Plane.XY.offset(2463.8)):
        with Locations((296.747716102, -5529.9251817405)):
            Rectangle(F73_W, F73_H)
    extrude(amount=-F74_DEPTH)


with BuildPart() as f76:
    # F75 (on face) → F76 (new body, through all)
    with BuildSketch(Plane.XY.offset(2463.8)):
        with Locations((-350.952283898, -5682.3251817405)):
            Rectangle(F75_W, F75_H)
    extrude(amount=-F76_DEPTH)


solid = Compound([f7.part, f1_1.part, f35.part, f37.part, f39.part, f42.part, f44.part, f46.part, f48.part, f50.part, f52.part, f54.part, f56.part, f58.part, f60.part, f61.part, f63.part, f65.part, f68.part, f70.part, f72.part, f74.part, f76.part])
